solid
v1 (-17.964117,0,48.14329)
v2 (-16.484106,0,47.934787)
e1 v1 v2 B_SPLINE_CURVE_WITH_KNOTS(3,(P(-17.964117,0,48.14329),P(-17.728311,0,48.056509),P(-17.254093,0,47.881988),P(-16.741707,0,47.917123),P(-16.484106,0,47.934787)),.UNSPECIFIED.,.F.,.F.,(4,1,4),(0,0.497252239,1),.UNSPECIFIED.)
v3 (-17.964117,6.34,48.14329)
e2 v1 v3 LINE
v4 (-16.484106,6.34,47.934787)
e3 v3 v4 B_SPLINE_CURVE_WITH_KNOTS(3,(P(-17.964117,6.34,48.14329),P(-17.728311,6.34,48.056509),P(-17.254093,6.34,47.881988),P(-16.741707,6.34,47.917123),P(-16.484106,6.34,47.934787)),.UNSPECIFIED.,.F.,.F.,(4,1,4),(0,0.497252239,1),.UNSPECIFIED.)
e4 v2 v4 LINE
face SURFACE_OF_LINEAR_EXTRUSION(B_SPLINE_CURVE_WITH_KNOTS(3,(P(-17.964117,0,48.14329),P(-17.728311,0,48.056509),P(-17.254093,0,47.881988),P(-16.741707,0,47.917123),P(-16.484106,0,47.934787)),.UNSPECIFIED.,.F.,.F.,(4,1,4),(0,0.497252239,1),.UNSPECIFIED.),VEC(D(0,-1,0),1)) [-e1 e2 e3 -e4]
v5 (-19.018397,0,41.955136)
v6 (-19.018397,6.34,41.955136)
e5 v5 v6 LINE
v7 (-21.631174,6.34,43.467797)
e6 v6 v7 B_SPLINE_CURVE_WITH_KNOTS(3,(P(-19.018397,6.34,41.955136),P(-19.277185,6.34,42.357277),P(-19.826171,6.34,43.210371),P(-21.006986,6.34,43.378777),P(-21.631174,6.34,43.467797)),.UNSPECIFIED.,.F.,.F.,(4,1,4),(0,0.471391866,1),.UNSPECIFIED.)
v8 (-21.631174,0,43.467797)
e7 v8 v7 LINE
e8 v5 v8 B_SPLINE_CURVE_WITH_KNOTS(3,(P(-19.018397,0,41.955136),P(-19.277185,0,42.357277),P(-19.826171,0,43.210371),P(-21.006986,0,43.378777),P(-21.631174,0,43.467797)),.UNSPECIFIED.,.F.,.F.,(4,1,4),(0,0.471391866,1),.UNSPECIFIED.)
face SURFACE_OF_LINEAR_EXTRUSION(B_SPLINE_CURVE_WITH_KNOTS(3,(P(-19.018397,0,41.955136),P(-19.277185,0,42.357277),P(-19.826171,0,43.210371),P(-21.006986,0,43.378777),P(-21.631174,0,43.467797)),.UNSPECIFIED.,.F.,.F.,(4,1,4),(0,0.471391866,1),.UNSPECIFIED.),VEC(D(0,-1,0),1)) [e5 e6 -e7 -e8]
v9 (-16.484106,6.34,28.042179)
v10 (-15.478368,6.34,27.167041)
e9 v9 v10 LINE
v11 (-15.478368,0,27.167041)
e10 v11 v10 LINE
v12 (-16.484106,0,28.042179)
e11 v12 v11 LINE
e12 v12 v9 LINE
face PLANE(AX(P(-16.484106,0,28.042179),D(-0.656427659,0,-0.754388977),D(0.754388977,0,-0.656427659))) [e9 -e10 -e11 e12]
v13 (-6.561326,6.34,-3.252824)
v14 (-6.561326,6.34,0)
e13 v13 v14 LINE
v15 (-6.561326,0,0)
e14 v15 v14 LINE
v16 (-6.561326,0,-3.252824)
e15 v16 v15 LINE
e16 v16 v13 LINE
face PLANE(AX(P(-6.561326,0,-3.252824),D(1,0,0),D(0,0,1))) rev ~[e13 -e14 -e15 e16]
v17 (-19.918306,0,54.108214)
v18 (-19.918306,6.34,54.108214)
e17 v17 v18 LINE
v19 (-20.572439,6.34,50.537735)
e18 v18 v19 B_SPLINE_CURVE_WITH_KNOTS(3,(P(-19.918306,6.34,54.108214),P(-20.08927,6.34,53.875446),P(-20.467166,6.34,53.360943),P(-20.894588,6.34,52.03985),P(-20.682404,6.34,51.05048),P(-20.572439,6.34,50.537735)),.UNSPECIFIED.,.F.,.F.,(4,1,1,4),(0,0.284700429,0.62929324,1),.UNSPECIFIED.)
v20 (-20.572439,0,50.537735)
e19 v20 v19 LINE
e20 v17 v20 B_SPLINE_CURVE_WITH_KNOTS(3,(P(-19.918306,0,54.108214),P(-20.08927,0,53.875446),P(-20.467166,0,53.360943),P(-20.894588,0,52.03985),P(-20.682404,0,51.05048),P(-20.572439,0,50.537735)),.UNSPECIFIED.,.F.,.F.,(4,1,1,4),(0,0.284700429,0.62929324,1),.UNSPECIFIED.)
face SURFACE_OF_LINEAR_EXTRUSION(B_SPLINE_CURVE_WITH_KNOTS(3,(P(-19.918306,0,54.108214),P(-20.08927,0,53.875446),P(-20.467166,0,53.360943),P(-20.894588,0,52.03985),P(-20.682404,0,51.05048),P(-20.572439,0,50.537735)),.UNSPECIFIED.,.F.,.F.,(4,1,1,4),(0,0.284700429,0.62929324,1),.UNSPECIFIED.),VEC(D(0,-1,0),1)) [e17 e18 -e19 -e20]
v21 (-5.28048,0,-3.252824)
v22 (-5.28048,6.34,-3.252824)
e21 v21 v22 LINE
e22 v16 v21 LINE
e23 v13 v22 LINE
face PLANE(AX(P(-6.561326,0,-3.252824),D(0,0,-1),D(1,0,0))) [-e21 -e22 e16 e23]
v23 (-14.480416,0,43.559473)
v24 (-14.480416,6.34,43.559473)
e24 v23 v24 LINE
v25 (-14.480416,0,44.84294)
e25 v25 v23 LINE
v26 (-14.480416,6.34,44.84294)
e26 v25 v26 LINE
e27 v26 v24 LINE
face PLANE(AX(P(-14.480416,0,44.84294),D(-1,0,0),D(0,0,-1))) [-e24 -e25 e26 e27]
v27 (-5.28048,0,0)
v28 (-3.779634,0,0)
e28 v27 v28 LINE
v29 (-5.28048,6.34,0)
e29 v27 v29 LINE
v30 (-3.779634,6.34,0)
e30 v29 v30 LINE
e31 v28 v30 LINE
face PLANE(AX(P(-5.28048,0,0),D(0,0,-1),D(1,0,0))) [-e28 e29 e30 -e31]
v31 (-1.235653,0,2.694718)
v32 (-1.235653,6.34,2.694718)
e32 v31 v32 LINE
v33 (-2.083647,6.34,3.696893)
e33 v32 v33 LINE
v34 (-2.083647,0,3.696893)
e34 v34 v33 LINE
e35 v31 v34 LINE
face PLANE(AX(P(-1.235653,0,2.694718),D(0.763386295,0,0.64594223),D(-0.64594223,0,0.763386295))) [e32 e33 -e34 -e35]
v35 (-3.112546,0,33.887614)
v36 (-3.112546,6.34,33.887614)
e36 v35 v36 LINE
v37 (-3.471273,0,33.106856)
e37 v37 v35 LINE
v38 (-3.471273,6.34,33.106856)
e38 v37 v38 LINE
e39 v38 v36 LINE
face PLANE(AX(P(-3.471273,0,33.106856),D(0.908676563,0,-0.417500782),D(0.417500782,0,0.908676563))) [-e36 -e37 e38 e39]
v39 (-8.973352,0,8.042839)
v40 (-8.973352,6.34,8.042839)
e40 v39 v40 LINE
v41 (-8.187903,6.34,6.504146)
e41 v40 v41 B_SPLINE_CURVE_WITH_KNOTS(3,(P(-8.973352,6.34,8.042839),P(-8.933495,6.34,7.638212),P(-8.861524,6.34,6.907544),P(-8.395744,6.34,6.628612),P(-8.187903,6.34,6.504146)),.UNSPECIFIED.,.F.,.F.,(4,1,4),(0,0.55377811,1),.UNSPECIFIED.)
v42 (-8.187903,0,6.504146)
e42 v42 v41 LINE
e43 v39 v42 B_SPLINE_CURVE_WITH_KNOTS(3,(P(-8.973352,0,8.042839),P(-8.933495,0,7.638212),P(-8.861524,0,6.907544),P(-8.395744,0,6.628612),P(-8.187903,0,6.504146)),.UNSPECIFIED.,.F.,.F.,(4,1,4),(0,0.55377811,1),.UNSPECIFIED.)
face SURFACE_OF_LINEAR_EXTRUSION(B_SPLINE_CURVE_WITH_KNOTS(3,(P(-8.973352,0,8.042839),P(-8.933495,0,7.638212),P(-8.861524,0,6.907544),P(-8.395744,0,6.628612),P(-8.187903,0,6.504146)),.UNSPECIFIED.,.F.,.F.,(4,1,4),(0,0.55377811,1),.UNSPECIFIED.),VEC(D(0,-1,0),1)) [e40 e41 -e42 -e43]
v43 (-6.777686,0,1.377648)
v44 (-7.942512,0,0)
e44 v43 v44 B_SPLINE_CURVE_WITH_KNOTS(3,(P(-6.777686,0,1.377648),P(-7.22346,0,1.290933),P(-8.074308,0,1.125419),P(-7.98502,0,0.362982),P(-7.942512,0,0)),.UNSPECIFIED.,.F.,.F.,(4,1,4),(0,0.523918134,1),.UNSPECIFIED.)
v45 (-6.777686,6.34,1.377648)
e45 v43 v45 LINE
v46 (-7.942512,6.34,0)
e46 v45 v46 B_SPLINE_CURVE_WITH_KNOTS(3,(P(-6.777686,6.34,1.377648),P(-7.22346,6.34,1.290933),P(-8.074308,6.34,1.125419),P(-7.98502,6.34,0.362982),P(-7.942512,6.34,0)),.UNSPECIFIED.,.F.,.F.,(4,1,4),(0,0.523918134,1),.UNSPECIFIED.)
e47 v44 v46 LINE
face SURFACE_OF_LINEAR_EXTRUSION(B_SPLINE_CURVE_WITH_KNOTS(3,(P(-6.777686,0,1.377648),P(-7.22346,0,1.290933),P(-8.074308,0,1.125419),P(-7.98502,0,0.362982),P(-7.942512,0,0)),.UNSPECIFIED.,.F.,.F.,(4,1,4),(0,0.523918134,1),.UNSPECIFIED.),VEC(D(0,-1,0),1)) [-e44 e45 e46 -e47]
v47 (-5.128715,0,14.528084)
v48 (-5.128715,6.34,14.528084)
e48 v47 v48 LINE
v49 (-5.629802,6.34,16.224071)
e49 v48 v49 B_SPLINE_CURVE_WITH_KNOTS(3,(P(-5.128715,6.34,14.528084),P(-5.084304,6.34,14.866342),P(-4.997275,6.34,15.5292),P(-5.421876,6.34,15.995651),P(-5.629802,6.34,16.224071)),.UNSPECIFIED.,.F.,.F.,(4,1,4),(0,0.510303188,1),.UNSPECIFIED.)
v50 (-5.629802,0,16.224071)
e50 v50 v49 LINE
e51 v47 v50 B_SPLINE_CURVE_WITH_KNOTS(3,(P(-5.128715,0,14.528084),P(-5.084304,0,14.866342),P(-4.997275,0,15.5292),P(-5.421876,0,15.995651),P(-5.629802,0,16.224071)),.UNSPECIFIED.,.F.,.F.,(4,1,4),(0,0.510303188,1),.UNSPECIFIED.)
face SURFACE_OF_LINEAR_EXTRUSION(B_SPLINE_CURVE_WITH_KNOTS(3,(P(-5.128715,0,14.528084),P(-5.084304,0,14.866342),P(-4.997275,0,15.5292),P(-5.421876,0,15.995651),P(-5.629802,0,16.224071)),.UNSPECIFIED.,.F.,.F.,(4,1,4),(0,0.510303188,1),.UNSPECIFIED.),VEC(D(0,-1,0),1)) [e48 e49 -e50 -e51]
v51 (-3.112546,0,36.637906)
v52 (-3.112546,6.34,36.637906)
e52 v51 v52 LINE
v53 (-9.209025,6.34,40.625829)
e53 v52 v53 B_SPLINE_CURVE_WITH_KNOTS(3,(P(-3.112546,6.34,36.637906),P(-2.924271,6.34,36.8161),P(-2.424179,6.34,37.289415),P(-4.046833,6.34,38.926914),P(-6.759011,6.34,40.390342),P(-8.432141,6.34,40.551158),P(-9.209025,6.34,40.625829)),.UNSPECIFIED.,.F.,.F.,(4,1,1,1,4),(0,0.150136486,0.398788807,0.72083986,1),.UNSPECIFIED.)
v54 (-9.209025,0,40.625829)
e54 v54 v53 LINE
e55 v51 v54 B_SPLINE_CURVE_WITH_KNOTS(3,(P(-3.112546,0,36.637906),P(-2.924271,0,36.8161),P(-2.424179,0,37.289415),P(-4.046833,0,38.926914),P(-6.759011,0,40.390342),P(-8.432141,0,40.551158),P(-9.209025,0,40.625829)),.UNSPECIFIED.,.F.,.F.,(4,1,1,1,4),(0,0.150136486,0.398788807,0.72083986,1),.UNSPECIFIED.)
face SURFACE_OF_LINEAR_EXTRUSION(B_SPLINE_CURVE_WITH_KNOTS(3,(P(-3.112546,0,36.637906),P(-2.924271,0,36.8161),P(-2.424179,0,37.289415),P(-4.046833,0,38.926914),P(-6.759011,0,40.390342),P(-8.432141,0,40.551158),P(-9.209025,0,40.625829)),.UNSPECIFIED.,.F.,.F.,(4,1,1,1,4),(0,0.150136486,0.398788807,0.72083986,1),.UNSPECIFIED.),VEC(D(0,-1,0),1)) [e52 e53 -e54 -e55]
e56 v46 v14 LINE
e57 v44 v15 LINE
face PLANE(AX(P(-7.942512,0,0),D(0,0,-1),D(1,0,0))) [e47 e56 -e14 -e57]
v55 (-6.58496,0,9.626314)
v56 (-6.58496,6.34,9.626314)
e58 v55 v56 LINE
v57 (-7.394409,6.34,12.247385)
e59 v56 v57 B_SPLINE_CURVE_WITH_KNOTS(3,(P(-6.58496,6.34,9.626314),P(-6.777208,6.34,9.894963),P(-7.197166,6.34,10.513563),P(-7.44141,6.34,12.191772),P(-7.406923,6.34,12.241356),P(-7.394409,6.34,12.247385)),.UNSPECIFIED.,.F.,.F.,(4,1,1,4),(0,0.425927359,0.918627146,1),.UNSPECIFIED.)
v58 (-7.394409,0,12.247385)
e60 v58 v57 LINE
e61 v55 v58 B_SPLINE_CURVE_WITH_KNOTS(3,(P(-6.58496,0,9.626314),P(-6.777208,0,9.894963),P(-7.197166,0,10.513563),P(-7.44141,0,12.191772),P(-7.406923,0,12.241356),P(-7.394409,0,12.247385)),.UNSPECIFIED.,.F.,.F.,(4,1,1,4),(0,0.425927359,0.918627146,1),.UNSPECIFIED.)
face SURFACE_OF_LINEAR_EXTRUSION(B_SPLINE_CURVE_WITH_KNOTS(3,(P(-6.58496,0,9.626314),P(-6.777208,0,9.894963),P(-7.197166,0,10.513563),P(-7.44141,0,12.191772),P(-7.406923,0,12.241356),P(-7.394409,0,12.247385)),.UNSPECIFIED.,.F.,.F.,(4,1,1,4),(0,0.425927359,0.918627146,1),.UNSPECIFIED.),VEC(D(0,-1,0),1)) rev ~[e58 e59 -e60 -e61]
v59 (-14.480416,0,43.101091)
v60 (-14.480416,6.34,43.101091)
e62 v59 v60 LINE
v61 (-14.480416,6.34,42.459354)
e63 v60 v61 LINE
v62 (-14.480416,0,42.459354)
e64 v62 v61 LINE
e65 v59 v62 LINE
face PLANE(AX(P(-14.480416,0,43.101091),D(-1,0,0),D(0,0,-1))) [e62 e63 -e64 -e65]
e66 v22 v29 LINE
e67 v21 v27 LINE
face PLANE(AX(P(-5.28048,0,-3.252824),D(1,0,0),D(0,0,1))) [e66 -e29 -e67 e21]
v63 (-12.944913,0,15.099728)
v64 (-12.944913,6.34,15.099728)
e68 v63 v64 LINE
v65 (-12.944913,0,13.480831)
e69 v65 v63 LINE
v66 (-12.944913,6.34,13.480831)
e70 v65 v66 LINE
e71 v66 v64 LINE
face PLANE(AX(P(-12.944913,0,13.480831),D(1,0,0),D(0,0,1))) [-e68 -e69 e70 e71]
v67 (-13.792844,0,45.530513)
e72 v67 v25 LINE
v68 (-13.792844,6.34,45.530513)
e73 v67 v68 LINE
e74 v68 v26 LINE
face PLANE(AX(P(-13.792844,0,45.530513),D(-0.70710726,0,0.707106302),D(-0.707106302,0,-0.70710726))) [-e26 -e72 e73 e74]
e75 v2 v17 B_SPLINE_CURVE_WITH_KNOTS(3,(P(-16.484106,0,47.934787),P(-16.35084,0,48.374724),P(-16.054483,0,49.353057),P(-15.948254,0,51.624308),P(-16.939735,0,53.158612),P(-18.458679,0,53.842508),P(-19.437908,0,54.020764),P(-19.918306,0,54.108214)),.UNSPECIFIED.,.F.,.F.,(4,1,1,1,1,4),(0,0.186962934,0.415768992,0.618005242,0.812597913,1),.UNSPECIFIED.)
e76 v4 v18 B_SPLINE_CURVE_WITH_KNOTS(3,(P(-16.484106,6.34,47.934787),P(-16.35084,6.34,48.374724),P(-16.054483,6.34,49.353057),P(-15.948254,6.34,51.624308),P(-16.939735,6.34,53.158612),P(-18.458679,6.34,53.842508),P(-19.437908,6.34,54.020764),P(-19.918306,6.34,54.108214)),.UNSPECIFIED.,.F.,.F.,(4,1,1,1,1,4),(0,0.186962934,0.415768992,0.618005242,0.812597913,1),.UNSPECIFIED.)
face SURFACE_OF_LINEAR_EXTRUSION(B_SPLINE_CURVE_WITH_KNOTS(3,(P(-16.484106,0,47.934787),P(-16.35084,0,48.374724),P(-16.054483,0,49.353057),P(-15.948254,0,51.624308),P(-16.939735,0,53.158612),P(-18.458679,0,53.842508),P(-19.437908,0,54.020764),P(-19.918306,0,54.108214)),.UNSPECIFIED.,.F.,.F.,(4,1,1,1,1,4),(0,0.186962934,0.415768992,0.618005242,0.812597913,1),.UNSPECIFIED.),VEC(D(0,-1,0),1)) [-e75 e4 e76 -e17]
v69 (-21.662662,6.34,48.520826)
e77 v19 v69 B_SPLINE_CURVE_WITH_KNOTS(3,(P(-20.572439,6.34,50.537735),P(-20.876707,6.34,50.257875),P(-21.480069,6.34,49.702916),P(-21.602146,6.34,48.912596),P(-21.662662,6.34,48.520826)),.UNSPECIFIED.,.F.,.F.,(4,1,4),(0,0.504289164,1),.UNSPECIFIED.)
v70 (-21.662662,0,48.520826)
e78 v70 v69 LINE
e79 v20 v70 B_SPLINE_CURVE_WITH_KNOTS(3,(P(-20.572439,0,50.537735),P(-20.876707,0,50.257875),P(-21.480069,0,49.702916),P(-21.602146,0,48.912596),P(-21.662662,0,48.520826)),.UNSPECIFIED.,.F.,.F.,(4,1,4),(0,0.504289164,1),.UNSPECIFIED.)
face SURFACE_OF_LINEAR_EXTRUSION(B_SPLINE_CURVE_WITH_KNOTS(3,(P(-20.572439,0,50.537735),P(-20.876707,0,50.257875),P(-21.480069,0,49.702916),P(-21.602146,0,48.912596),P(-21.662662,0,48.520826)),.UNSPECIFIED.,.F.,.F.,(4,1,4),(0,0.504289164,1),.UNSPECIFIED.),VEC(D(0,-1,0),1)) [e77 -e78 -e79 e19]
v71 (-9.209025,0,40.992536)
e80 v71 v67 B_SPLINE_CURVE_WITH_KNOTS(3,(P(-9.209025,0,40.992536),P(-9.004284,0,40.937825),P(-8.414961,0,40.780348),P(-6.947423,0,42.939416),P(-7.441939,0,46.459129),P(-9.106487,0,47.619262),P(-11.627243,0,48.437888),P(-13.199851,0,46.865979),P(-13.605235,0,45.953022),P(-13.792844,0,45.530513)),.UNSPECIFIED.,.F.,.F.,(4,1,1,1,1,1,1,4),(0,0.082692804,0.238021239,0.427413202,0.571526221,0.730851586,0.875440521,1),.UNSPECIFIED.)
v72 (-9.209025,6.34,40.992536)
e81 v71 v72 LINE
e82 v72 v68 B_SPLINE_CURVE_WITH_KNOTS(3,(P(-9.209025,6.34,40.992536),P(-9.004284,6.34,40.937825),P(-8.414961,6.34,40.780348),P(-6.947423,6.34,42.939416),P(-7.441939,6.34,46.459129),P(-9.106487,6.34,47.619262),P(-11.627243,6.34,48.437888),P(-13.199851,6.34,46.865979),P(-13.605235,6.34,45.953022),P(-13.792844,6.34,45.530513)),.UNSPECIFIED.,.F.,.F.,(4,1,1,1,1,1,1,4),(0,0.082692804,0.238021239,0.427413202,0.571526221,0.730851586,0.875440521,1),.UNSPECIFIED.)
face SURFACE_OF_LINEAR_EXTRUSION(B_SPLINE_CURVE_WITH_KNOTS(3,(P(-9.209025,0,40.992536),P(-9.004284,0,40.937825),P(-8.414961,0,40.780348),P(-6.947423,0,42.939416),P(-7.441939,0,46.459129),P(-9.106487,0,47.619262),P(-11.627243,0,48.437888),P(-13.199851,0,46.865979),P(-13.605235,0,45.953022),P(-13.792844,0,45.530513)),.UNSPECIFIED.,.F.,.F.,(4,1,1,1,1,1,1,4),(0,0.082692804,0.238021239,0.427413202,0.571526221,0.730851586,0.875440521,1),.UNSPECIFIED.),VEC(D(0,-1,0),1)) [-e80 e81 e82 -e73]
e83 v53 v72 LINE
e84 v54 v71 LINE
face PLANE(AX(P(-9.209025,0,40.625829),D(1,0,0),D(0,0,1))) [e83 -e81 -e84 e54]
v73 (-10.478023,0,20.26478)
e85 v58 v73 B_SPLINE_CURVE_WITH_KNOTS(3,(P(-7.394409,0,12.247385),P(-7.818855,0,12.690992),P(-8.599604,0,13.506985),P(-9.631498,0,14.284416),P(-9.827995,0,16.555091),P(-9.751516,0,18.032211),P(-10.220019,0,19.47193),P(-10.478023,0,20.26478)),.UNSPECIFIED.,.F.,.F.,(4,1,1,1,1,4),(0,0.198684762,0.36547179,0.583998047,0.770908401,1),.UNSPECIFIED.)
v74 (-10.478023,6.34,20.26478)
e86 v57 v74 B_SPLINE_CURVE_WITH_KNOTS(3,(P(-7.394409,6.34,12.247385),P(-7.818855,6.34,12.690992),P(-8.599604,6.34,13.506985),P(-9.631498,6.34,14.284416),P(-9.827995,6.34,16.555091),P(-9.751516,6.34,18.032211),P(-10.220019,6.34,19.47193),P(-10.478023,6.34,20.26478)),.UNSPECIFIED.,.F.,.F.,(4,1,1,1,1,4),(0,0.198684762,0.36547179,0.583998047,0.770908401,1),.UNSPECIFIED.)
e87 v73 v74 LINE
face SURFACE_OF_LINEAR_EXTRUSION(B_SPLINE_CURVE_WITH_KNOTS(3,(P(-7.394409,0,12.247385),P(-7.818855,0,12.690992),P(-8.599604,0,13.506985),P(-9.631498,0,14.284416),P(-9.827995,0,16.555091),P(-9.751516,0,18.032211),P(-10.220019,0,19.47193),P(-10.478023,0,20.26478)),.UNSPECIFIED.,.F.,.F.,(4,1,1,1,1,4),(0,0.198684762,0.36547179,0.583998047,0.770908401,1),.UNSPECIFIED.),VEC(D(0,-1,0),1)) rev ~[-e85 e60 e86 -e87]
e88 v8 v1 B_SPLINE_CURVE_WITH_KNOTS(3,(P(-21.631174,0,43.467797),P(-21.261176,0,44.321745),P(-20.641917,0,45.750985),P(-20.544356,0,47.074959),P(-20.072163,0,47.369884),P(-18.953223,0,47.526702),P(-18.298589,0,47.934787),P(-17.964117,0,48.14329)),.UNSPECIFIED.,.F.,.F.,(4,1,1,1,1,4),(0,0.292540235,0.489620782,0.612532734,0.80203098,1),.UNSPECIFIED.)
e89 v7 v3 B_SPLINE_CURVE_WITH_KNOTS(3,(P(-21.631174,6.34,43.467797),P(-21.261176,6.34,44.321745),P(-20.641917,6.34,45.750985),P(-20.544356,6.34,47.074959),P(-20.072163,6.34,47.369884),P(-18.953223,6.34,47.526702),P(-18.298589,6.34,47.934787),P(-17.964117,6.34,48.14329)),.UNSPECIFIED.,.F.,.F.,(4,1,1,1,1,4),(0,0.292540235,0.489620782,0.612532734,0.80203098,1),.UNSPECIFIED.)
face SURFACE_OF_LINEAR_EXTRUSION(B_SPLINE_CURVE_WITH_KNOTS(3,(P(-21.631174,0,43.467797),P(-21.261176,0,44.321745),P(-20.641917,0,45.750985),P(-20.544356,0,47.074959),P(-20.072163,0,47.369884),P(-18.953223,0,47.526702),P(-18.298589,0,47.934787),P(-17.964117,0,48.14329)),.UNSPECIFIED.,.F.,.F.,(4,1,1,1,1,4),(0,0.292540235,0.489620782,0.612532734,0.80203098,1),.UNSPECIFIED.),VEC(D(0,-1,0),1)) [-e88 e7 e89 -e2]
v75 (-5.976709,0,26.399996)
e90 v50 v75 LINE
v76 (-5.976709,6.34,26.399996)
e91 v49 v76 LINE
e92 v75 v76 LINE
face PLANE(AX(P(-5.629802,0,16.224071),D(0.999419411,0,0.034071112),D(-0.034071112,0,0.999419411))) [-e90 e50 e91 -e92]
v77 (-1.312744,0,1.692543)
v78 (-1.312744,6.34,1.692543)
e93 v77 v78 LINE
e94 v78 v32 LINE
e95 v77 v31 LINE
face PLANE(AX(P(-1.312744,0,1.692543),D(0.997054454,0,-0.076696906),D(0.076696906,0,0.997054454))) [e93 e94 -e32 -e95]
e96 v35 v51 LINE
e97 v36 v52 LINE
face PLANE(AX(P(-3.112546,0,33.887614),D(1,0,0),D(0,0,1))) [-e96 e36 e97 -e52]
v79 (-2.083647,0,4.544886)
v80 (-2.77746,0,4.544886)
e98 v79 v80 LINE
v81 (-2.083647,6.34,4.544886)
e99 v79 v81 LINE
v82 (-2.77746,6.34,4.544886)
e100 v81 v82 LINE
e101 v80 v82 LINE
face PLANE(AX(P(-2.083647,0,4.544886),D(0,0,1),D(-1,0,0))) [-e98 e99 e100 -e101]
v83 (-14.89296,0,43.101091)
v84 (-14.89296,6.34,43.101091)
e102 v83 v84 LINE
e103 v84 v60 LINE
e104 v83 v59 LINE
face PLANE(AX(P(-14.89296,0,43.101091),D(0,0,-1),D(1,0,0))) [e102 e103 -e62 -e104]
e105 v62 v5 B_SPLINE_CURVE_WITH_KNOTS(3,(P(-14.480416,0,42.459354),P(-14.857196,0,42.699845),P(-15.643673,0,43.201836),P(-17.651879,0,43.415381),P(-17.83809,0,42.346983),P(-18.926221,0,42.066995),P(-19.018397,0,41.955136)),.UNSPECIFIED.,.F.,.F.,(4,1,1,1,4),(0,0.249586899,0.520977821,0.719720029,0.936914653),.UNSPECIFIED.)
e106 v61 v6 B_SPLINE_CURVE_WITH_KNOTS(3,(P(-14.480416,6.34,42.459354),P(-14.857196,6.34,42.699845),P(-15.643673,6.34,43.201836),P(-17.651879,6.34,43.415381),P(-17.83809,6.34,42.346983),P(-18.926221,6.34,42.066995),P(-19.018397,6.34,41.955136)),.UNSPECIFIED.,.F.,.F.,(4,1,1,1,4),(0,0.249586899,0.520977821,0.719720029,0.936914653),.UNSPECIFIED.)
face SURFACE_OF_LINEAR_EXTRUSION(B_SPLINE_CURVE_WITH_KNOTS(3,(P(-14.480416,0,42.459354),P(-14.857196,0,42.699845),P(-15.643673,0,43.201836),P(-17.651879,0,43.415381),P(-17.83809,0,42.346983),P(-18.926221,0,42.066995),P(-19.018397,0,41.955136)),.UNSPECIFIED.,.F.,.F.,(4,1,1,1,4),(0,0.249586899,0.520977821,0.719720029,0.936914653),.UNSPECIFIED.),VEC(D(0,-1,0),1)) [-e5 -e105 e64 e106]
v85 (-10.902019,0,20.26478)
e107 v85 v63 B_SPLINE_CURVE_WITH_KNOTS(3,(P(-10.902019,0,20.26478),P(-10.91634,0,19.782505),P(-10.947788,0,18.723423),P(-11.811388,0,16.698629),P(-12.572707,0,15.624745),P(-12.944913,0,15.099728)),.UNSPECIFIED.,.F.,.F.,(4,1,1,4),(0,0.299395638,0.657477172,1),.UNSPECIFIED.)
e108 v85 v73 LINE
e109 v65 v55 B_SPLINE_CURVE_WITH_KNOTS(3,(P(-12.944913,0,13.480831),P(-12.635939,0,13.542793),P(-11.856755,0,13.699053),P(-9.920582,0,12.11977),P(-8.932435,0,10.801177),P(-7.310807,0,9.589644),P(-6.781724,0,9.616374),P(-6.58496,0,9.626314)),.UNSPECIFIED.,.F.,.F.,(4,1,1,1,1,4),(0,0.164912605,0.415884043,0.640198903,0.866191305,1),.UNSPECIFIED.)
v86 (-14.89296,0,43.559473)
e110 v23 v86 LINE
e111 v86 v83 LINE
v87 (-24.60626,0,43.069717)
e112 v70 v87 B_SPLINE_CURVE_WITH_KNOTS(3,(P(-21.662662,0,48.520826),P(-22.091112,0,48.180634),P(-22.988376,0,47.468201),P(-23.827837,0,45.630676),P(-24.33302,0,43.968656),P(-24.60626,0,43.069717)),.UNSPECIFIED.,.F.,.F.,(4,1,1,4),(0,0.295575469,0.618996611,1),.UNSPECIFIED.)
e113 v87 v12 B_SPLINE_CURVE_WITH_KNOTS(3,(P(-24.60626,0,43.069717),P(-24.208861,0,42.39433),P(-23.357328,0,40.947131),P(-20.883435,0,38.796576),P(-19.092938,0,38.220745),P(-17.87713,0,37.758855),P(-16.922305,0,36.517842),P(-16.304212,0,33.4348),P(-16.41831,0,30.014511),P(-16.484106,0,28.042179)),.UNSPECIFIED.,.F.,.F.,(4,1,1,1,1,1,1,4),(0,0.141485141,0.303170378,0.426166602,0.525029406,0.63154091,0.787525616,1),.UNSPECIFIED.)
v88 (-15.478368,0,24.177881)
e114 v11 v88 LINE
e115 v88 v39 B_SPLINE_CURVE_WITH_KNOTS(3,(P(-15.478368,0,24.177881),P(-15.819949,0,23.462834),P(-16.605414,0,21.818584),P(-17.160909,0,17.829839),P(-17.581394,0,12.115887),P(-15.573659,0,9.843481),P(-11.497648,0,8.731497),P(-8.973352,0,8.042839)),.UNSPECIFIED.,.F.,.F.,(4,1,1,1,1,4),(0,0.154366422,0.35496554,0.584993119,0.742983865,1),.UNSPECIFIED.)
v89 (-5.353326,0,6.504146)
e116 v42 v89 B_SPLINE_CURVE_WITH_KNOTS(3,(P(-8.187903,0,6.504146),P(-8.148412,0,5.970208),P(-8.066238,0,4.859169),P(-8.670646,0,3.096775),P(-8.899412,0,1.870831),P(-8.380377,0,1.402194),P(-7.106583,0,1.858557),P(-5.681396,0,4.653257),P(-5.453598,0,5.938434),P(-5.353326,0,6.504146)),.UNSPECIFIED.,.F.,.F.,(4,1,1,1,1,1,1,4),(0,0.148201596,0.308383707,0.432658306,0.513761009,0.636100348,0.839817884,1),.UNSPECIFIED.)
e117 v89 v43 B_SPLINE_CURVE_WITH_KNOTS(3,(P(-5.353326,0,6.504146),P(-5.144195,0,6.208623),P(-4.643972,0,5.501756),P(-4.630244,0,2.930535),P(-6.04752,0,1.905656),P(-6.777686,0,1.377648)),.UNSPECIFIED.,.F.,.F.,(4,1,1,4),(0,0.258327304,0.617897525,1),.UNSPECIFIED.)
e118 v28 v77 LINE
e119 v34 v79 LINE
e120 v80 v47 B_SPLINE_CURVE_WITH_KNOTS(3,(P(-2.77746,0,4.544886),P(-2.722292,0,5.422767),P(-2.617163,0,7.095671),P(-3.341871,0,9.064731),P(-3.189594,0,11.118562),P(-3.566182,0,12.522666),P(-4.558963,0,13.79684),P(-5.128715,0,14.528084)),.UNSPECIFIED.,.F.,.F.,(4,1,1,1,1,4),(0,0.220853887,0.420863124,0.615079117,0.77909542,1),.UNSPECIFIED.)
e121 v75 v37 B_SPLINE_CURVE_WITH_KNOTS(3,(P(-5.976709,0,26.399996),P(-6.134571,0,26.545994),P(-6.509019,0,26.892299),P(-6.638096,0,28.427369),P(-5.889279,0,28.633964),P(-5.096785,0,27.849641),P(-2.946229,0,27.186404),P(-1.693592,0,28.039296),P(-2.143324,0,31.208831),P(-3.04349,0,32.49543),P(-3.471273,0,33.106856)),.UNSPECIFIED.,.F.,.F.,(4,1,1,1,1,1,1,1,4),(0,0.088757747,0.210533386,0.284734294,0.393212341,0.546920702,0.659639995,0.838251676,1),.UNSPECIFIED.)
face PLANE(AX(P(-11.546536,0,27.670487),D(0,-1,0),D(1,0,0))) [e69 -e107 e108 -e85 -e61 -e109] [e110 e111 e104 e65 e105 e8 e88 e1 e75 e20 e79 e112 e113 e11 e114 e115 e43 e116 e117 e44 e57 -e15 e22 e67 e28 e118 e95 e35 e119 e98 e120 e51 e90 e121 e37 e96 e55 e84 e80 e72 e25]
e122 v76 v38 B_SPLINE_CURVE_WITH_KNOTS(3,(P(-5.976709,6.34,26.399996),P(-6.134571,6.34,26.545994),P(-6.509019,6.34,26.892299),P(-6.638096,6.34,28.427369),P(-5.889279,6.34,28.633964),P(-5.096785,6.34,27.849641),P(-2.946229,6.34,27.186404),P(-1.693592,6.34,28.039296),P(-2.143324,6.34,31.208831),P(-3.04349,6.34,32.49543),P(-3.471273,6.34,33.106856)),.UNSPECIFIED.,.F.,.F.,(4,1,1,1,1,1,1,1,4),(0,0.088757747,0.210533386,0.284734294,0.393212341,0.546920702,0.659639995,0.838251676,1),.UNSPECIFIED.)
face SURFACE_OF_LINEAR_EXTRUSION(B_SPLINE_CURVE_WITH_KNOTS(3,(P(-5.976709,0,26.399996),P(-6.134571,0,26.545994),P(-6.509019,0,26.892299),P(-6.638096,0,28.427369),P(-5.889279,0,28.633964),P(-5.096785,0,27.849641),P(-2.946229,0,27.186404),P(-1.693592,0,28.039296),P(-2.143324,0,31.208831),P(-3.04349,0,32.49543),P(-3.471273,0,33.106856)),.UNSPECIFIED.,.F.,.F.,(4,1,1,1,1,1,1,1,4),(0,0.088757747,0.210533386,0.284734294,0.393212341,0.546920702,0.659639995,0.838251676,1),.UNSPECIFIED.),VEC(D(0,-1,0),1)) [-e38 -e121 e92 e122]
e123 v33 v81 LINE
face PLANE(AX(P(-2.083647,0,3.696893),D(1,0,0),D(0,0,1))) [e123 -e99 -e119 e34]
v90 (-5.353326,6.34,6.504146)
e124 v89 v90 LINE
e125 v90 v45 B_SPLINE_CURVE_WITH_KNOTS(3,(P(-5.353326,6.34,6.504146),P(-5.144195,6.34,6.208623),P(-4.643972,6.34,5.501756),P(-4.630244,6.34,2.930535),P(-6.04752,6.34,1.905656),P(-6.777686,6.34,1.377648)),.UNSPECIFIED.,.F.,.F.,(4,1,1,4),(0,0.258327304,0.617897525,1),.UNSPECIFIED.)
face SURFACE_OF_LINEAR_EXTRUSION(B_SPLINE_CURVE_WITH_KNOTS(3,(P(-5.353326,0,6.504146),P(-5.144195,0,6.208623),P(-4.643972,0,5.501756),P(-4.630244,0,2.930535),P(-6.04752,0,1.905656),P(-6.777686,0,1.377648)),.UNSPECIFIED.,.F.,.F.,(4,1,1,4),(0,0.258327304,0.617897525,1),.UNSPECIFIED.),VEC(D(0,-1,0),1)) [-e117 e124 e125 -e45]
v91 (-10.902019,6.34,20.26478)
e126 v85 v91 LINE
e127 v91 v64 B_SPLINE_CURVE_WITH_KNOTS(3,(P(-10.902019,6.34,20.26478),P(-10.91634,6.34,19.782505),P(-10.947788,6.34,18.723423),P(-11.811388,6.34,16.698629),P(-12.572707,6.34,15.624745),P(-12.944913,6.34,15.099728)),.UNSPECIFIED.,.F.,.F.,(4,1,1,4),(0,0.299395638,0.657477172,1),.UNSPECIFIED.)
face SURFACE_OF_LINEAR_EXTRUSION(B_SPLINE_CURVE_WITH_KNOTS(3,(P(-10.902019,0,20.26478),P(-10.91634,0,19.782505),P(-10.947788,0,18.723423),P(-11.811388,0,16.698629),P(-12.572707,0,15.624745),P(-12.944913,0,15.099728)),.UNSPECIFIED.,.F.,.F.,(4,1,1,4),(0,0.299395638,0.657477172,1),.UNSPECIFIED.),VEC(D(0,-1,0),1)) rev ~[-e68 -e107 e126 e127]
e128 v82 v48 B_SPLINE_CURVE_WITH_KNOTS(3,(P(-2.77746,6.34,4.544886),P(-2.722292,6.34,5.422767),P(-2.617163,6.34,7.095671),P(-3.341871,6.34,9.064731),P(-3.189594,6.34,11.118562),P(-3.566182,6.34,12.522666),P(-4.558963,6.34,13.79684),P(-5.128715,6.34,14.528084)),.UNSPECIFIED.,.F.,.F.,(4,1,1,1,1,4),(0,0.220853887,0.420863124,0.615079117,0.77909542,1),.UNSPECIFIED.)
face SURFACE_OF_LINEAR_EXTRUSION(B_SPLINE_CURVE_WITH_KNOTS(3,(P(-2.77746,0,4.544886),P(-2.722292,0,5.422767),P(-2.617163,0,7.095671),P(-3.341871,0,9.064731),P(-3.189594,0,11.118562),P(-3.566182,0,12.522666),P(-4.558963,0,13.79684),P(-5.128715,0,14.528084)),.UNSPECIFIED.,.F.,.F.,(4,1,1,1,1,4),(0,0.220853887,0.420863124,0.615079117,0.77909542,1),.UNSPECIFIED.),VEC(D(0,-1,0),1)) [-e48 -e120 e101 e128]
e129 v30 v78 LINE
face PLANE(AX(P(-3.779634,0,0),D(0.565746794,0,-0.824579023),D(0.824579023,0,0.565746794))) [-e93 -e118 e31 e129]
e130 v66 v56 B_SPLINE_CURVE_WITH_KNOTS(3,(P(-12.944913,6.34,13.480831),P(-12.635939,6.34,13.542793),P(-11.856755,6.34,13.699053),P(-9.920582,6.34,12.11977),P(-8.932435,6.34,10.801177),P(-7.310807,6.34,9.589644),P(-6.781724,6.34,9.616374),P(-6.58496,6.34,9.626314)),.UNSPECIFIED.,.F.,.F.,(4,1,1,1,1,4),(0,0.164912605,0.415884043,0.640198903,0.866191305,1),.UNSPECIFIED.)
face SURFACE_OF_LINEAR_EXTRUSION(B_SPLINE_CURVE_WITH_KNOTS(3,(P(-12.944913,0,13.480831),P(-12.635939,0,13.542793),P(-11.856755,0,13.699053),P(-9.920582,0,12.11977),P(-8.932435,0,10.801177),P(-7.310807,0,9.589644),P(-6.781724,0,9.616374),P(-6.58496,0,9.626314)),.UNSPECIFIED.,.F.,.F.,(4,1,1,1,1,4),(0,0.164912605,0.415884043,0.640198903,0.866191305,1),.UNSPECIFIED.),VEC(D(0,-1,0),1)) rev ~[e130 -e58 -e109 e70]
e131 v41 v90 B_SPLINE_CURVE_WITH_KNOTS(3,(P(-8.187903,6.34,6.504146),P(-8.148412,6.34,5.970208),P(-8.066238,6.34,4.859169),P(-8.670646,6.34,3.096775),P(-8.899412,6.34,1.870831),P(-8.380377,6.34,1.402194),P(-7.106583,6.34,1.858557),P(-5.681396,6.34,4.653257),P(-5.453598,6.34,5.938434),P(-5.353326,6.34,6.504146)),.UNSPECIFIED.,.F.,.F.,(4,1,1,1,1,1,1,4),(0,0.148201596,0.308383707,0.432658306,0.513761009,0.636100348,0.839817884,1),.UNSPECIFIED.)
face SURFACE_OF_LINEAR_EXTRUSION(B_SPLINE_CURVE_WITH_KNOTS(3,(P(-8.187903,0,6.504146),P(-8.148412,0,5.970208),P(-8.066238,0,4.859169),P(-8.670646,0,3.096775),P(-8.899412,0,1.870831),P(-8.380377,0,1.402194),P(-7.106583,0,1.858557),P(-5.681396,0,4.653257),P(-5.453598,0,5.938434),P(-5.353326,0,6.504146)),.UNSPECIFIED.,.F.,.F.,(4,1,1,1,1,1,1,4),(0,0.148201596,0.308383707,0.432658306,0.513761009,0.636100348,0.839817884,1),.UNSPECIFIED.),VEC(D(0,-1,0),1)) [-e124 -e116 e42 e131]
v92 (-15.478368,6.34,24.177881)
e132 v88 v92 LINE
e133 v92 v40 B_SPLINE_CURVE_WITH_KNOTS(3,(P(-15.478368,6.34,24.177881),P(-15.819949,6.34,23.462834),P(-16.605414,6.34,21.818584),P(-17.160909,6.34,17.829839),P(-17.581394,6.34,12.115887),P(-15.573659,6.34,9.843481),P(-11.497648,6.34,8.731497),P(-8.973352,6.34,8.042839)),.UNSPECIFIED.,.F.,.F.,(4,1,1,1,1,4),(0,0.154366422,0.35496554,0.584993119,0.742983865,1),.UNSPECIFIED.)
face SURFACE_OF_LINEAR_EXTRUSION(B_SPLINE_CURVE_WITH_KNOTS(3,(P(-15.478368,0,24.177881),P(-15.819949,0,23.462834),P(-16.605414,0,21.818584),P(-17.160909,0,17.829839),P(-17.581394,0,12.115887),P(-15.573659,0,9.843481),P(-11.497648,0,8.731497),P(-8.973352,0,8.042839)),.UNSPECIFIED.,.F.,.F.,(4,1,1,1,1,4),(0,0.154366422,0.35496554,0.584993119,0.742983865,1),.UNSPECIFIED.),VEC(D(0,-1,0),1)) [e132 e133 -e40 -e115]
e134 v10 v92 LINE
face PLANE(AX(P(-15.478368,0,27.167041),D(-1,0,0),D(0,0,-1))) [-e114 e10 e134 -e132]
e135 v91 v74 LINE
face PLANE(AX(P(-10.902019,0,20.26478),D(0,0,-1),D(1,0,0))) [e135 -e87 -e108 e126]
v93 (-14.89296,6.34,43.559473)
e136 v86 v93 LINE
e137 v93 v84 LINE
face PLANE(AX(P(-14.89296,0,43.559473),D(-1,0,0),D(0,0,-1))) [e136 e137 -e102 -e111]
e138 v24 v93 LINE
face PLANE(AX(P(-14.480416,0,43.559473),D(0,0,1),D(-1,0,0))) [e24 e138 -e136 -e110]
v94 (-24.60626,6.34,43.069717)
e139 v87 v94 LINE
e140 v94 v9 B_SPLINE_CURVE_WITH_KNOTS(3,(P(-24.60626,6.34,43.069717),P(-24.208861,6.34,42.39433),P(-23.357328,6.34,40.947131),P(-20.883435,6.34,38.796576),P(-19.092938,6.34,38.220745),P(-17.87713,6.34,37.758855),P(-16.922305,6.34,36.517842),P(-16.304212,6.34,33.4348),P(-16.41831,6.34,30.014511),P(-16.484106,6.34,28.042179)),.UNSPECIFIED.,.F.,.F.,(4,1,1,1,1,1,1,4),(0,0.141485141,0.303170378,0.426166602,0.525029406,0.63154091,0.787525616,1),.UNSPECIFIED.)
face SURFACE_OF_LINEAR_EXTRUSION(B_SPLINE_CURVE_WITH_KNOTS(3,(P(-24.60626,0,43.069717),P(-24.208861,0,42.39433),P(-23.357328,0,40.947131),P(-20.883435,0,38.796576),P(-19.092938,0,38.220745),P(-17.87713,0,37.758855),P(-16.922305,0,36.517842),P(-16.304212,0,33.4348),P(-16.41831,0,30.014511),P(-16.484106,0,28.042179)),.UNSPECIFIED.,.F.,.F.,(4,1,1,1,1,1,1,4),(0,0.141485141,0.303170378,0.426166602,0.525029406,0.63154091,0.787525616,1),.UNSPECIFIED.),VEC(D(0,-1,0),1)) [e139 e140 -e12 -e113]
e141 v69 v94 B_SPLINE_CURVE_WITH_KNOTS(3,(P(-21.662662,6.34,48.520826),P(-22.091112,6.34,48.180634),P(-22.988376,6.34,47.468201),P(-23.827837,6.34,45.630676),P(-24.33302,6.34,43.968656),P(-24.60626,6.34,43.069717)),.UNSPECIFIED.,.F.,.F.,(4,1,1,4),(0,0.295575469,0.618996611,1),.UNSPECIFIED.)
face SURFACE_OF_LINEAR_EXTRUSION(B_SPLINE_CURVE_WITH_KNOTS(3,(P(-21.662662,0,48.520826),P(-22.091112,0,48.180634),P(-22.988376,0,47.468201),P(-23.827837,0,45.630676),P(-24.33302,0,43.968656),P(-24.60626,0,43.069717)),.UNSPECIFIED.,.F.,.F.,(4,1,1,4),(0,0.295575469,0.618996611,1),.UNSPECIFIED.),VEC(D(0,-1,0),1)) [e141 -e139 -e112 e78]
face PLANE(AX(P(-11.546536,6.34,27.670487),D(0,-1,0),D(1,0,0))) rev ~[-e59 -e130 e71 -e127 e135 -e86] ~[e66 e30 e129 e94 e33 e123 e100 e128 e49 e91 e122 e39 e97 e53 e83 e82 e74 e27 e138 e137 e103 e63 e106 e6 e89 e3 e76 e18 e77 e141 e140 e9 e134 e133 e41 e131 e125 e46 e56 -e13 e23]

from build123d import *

# Parameters (mm, degrees)
F0_W     = 1.2808465399
F0_H     = 3.2528243028
F1_DEPTH = 6.34


with BuildPart() as f1:
    # F0 (on Front) → F1 (new body)
    with BuildSketch(Plane.XZ):
        with BuildLine():
            add(Edge.make_bspline(
                [(-6.7776860669, 1.3776483247), (-7.2234603457, 1.2909326007), (-8.0743075484, 1.125418719), (-7.9850199205, 0.3629822004), (-7.9425117001, 0)],
                knots=[0, 0, 0, 0, 0.5239181341, 1, 1, 1, 1], degree=3))
            Line((-7.9425117001, 0), (-6.5613263287, 0))
            Line((-6.5613263287, 0), (-5.2804797888, 0))
            Line((-5.2804797888, 0), (-3.7796341348, 0))
            Line((-3.7796341348, 0), (-1.3127436396, 1.6925429227))
            Line((-1.3127436396, 1.6925429227), (-1.2356528314, 2.6947180741))
            Line((-1.2356528314, 2.6947180741), (-2.0836470649, 3.696893109))
            Line((-2.0836470649, 3.696893109), (-2.0836470649, 4.5448862948))
            Line((-2.0836470649, 4.5448862948), (-2.7774595656, 4.5448862948))
            add(Edge.make_bspline(
                [(-2.7774595656, 4.5448862948), (-2.7222918755, 5.4227665899), (-2.6171633368, 7.095671009), (-3.3418714879, 9.0647313949), (-3.1895937315, 11.1185620313), (-3.5661824677, 12.5226659789), (-4.5589625844, 13.7968401), (-5.1287151873, 14.528083615)],
                knots=[0, 0, 0, 0, 0.2208538869, 0.4208631238, 0.6150791168, 0.7790954196, 1, 1, 1, 1], degree=3))
            add(Edge.make_bspline(
                [(-5.1287151873, 14.528083615), (-5.0843041296, 14.8663420012), (-4.9972753618, 15.5291996788), (-5.4218763651, 15.9956514421), (-5.6298021227, 16.2240713835)],
                knots=[0, 0, 0, 0, 0.5103031883, 1, 1, 1, 1], degree=3))
            Line((-5.6298021227, 16.2240713835), (-5.9767086059, 26.3999961317))
            add(Edge.make_bspline(
                [(-5.9767086059, 26.3999961317), (-6.1345706405, 26.5459935085), (-6.5090194045, 26.892299303), (-6.6380961915, 28.4273694482), (-5.8892792504, 28.6339642055), (-5.0967846196, 27.8496412338), (-2.9462288603, 27.1864042532), (-1.6935919751, 28.0392956056), (-2.1433240874, 31.2088312454), (-3.0434896338, 32.4954295626), (-3.4712727647, 33.1068560481)],
                knots=[0, 0, 0, 0, 0.0887577471, 0.2105333863, 0.2847342937, 0.393212341, 0.5469207023, 0.6596399946, 0.8382516756, 1, 1, 1, 1], degree=3))
            Line((-3.4712727647, 33.1068560481), (-3.1125457026, 33.8876135647))
            Line((-3.1125457026, 33.8876135647), (-3.1125457026, 36.6379059851))
            add(Edge.make_bspline(
                [(-3.1125457026, 36.6379059851), (-2.9242706246, 36.816100008), (-2.424179038, 37.2894145462), (-4.0468332885, 38.9269143997), (-6.759011061, 40.3903422302), (-8.4321410003, 40.5511578163), (-9.2090247199, 40.6258292496)],
                knots=[0, 0, 0, 0, 0.1501364865, 0.3987888069, 0.7208398601, 1, 1, 1, 1], degree=3))
            Line((-9.2090247199, 40.6258292496), (-9.2090247199, 40.9925356507))
            add(Edge.make_bspline(
                [(-9.2090247199, 40.9925356507), (-9.0042836623, 40.9378253354), (-8.4149612837, 40.7803483081), (-6.9474231725, 42.9394160939), (-7.4419385897, 46.4591291567), (-9.1064865307, 47.6192620157), (-11.6272430043, 48.4378875285), (-13.1998511262, 46.8659793565), (-13.6052353603, 45.9530216087), (-13.7928435579, 45.530512929)],
                knots=[0, 0, 0, 0, 0.0826928045, 0.2380212391, 0.4274132015, 0.571526221, 0.7308515859, 0.8754405213, 1, 1, 1, 1], degree=3))
            Line((-13.7928435579, 45.530512929), (-14.4804157317, 44.8429398239))
            Line((-14.4804157317, 44.8429398239), (-14.4804157317, 43.5594730079))
            Line((-14.4804157317, 43.5594730079), (-14.8929599673, 43.5594730079))
            Line((-14.8929599673, 43.5594730079), (-14.8929599673, 43.1010909379))
            Line((-14.8929599673, 43.1010909379), (-14.4804157317, 43.1010909379))
            Line((-14.4804157317, 43.1010909379), (-14.4804157317, 42.4593538046))
            add(Edge.make_bspline(
                [(-14.4804157317, 42.4593538046), (-14.8571961778, 42.699844745), (-15.6436727796, 43.2018360228), (-17.6518789594, 43.4153809515), (-17.8380897009, 42.3469828314), (-18.9262205482, 42.0669953128), (-19.0183967352, 41.9551357627)],
                knots=[0, 0, 0, 0, 0.2495868987, 0.5209778212, 0.7197200287, 0.9369146526, 0.9369146526, 0.9369146526, 0.9369146526], degree=3))
            add(Edge.make_bspline(
                [(-19.0183967352, 41.9551357627), (-19.2771846319, 42.3572771528), (-19.8261713987, 43.2103707651), (-21.0069857299, 43.3787766294), (-21.6311737895, 43.467797339)],
                knots=[0, 0, 0, 0, 0.4713918665, 1, 1, 1, 1], degree=3))
            add(Edge.make_bspline(
                [(-21.6311737895, 43.467797339), (-21.261176445, 44.3217445242), (-20.6419167076, 45.7509848081), (-20.5443555782, 47.0749587473), (-20.0721625641, 47.3698835796), (-18.9532225125, 47.5267016677), (-18.2985894995, 47.9347867053), (-17.964117229, 48.1432899833)],
                knots=[0, 0, 0, 0, 0.2925402351, 0.489620782, 0.612532734, 0.8020309798, 1, 1, 1, 1], degree=3))
            add(Edge.make_bspline(
                [(-17.964117229, 48.1432899833), (-17.7283110743, 48.0565091036), (-17.2540926878, 47.8819882614), (-16.7417068114, 47.917122863), (-16.4841059595, 47.9347867053)],
                knots=[0, 0, 0, 0, 0.4972522394, 1, 1, 1, 1], degree=3))
            add(Edge.make_bspline(
                [(-16.4841059595, 47.9347867053), (-16.3508402803, 48.3747236264), (-16.0544834787, 49.3530572801), (-15.9482535449, 51.6243077123), (-16.93973462, 53.1586117555), (-18.4586786752, 53.842507887), (-19.437907688, 54.0207635328), (-19.9183057994, 54.1082136333)],
                knots=[0, 0, 0, 0, 0.186962934, 0.4157689921, 0.6180052423, 0.8125979135, 1, 1, 1, 1], degree=3))
            add(Edge.make_bspline(
                [(-19.9183057994, 54.1082136333), (-20.0892704668, 53.8754460058), (-20.4671656101, 53.3609434641), (-20.8945875679, 52.0398497722), (-20.6824038605, 51.0504799491), (-20.5724388361, 50.5377352238)],
                knots=[0, 0, 0, 0, 0.284700429, 0.6292932395, 1, 1, 1, 1], degree=3))
            add(Edge.make_bspline(
                [(-20.5724388361, 50.5377352238), (-20.8767073715, 50.2578751595), (-21.4800686114, 49.7029156559), (-21.6021464823, 48.9125958799), (-21.6626618057, 48.5208258033)],
                knots=[0, 0, 0, 0, 0.5042891642, 1, 1, 1, 1], degree=3))
            add(Edge.make_bspline(
                [(-21.6626618057, 48.5208258033), (-22.0911120554, 48.1806338043), (-22.9883761393, 47.4682008845), (-23.8278366025, 45.6306762926), (-24.3330200442, 43.9686563308), (-24.6062595397, 43.069716543)],
                knots=[0, 0, 0, 0, 0.295575469, 0.6189966107, 1, 1, 1, 1], degree=3))
            add(Edge.make_bspline(
                [(-24.6062595397, 43.069716543), (-24.2088613706, 42.3943300533), (-23.3573277559, 40.9471308877), (-20.8834350039, 38.796575858), (-19.092937599, 38.2207451839), (-17.8771301181, 37.7588553364), (-16.9223054993, 36.5178417531), (-16.304212218, 33.4348004163), (-16.4183104534, 30.0145111495), (-16.4841059595, 28.042178601)],
                knots=[0, 0, 0, 0, 0.1414851406, 0.303170378, 0.4261666022, 0.5250294059, 0.6315409101, 0.7875256158, 1, 1, 1, 1], degree=3))
            Line((-16.4841059595, 28.042178601), (-15.4783679172, 27.1670408547))
            Line((-15.4783679172, 27.1670408547), (-15.4783679172, 24.1778809577))
            add(Edge.make_bspline(
                [(-15.4783679172, 24.1778809577), (-15.819948896, 23.4628340345), (-16.6054142494, 21.818583859), (-17.160909052, 17.8298393788), (-17.5813935603, 12.1158867751), (-15.573659095, 9.8434809807), (-11.4976484067, 8.7314972431), (-8.9733516797, 8.0428393558)],
                knots=[0, 0, 0, 0, 0.1543664225, 0.3549655401, 0.5849931188, 0.7429838654, 1, 1, 1, 1], degree=3))
            add(Edge.make_bspline(
                [(-8.9733516797, 8.0428393558), (-8.9334954044, 7.6382117185), (-8.8615238429, 6.9075442728), (-8.395744175, 6.6286117251), (-8.1879030913, 6.5041459166)],
                knots=[0, 0, 0, 0, 0.5537781103, 1, 1, 1, 1], degree=3))
            add(Edge.make_bspline(
                [(-8.1879030913, 6.5041459166), (-8.1484120775, 5.9702080713), (-8.0662376236, 4.8591692129), (-8.6706458584, 3.0967752673), (-8.8994119275, 1.8708309777), (-8.3803766729, 1.402193652), (-7.1065827749, 1.8585570796), (-5.6813956349, 4.6532572148), (-5.4535982924, 5.9384340625), (-5.3533259779, 6.5041459166)],
                knots=[0, 0, 0, 0, 0.1482015961, 0.3083837071, 0.4326583064, 0.5137610087, 0.6361003484, 0.8398178842, 1, 1, 1, 1], degree=3))
            add(Edge.make_bspline(
                [(-5.3533259779, 6.5041459166), (-5.1441952315, 6.208622874), (-4.6439717987, 5.5017562207), (-4.6302443302, 2.9305348325), (-6.0475197284, 1.9056558772), (-6.7776860669, 1.3776483247)],
                knots=[0, 0, 0, 0, 0.2583273038, 0.6178975253, 1, 1, 1, 1], degree=3))
        make_face()
        with BuildLine():
            add(Edge.make_bspline(
                [(-10.9020192176, 20.2647801489), (-10.9163398693, 19.7825054325), (-10.9477882284, 18.7234231482), (-11.8113882763, 16.6986290351), (-12.5727067901, 15.6247452688), (-12.9449125379, 15.0997275487)],
                knots=[0, 0, 0, 0, 0.2993956384, 0.6574771719, 1, 1, 1, 1], degree=3))
            Line((-10.9020192176, 20.2647801489), (-10.4780225083, 20.2647801489))
            add(Edge.make_bspline(
                [(-7.3944088072, 12.2473854572), (-7.8188548307, 12.6909915122), (-8.5996044275, 13.5069851355), (-9.6314978263, 14.2844156033), (-9.8279951055, 16.5550906501), (-9.7515163015, 18.0322112447), (-10.220018893, 19.4719295947), (-10.4780225083, 20.2647801489)],
                knots=[0, 0, 0, 0, 0.1986847623, 0.3654717901, 0.5839980475, 0.7709084012, 1, 1, 1, 1], degree=3))
            add(Edge.make_bspline(
                [(-6.584960036, 9.626314044), (-6.7772077658, 9.8949634142), (-7.1971655786, 10.5135634703), (-7.441410096, 12.1917721213), (-7.4069225229, 12.2413560748), (-7.3944088072, 12.2473854572)],
                knots=[0, 0, 0, 0, 0.4259273593, 0.9186271459, 1, 1, 1, 1], degree=3))
            add(Edge.make_bspline(
                [(-12.9449125379, 13.4808309376), (-12.6359389461, 13.5427933983), (-11.8567554088, 13.6990531258), (-9.920582259, 12.1197704522), (-8.9324353041, 10.8011768775), (-7.310806571, 9.5896443746), (-6.781723916, 9.6163735592), (-6.584960036, 9.626314044)],
                knots=[0, 0, 0, 0, 0.1649126046, 0.415884043, 0.640198903, 0.8661913045, 1, 1, 1, 1], degree=3))
            Line((-12.9449125379, 13.4808309376), (-12.9449125379, 15.0997275487))
        make_face(mode=Mode.SUBTRACT)
        with Locations((-5.9209030587, -1.6264121514)):
            Rectangle(F0_W, F0_H)
    extrude(amount=-F1_DEPTH)


solid = f1.part
